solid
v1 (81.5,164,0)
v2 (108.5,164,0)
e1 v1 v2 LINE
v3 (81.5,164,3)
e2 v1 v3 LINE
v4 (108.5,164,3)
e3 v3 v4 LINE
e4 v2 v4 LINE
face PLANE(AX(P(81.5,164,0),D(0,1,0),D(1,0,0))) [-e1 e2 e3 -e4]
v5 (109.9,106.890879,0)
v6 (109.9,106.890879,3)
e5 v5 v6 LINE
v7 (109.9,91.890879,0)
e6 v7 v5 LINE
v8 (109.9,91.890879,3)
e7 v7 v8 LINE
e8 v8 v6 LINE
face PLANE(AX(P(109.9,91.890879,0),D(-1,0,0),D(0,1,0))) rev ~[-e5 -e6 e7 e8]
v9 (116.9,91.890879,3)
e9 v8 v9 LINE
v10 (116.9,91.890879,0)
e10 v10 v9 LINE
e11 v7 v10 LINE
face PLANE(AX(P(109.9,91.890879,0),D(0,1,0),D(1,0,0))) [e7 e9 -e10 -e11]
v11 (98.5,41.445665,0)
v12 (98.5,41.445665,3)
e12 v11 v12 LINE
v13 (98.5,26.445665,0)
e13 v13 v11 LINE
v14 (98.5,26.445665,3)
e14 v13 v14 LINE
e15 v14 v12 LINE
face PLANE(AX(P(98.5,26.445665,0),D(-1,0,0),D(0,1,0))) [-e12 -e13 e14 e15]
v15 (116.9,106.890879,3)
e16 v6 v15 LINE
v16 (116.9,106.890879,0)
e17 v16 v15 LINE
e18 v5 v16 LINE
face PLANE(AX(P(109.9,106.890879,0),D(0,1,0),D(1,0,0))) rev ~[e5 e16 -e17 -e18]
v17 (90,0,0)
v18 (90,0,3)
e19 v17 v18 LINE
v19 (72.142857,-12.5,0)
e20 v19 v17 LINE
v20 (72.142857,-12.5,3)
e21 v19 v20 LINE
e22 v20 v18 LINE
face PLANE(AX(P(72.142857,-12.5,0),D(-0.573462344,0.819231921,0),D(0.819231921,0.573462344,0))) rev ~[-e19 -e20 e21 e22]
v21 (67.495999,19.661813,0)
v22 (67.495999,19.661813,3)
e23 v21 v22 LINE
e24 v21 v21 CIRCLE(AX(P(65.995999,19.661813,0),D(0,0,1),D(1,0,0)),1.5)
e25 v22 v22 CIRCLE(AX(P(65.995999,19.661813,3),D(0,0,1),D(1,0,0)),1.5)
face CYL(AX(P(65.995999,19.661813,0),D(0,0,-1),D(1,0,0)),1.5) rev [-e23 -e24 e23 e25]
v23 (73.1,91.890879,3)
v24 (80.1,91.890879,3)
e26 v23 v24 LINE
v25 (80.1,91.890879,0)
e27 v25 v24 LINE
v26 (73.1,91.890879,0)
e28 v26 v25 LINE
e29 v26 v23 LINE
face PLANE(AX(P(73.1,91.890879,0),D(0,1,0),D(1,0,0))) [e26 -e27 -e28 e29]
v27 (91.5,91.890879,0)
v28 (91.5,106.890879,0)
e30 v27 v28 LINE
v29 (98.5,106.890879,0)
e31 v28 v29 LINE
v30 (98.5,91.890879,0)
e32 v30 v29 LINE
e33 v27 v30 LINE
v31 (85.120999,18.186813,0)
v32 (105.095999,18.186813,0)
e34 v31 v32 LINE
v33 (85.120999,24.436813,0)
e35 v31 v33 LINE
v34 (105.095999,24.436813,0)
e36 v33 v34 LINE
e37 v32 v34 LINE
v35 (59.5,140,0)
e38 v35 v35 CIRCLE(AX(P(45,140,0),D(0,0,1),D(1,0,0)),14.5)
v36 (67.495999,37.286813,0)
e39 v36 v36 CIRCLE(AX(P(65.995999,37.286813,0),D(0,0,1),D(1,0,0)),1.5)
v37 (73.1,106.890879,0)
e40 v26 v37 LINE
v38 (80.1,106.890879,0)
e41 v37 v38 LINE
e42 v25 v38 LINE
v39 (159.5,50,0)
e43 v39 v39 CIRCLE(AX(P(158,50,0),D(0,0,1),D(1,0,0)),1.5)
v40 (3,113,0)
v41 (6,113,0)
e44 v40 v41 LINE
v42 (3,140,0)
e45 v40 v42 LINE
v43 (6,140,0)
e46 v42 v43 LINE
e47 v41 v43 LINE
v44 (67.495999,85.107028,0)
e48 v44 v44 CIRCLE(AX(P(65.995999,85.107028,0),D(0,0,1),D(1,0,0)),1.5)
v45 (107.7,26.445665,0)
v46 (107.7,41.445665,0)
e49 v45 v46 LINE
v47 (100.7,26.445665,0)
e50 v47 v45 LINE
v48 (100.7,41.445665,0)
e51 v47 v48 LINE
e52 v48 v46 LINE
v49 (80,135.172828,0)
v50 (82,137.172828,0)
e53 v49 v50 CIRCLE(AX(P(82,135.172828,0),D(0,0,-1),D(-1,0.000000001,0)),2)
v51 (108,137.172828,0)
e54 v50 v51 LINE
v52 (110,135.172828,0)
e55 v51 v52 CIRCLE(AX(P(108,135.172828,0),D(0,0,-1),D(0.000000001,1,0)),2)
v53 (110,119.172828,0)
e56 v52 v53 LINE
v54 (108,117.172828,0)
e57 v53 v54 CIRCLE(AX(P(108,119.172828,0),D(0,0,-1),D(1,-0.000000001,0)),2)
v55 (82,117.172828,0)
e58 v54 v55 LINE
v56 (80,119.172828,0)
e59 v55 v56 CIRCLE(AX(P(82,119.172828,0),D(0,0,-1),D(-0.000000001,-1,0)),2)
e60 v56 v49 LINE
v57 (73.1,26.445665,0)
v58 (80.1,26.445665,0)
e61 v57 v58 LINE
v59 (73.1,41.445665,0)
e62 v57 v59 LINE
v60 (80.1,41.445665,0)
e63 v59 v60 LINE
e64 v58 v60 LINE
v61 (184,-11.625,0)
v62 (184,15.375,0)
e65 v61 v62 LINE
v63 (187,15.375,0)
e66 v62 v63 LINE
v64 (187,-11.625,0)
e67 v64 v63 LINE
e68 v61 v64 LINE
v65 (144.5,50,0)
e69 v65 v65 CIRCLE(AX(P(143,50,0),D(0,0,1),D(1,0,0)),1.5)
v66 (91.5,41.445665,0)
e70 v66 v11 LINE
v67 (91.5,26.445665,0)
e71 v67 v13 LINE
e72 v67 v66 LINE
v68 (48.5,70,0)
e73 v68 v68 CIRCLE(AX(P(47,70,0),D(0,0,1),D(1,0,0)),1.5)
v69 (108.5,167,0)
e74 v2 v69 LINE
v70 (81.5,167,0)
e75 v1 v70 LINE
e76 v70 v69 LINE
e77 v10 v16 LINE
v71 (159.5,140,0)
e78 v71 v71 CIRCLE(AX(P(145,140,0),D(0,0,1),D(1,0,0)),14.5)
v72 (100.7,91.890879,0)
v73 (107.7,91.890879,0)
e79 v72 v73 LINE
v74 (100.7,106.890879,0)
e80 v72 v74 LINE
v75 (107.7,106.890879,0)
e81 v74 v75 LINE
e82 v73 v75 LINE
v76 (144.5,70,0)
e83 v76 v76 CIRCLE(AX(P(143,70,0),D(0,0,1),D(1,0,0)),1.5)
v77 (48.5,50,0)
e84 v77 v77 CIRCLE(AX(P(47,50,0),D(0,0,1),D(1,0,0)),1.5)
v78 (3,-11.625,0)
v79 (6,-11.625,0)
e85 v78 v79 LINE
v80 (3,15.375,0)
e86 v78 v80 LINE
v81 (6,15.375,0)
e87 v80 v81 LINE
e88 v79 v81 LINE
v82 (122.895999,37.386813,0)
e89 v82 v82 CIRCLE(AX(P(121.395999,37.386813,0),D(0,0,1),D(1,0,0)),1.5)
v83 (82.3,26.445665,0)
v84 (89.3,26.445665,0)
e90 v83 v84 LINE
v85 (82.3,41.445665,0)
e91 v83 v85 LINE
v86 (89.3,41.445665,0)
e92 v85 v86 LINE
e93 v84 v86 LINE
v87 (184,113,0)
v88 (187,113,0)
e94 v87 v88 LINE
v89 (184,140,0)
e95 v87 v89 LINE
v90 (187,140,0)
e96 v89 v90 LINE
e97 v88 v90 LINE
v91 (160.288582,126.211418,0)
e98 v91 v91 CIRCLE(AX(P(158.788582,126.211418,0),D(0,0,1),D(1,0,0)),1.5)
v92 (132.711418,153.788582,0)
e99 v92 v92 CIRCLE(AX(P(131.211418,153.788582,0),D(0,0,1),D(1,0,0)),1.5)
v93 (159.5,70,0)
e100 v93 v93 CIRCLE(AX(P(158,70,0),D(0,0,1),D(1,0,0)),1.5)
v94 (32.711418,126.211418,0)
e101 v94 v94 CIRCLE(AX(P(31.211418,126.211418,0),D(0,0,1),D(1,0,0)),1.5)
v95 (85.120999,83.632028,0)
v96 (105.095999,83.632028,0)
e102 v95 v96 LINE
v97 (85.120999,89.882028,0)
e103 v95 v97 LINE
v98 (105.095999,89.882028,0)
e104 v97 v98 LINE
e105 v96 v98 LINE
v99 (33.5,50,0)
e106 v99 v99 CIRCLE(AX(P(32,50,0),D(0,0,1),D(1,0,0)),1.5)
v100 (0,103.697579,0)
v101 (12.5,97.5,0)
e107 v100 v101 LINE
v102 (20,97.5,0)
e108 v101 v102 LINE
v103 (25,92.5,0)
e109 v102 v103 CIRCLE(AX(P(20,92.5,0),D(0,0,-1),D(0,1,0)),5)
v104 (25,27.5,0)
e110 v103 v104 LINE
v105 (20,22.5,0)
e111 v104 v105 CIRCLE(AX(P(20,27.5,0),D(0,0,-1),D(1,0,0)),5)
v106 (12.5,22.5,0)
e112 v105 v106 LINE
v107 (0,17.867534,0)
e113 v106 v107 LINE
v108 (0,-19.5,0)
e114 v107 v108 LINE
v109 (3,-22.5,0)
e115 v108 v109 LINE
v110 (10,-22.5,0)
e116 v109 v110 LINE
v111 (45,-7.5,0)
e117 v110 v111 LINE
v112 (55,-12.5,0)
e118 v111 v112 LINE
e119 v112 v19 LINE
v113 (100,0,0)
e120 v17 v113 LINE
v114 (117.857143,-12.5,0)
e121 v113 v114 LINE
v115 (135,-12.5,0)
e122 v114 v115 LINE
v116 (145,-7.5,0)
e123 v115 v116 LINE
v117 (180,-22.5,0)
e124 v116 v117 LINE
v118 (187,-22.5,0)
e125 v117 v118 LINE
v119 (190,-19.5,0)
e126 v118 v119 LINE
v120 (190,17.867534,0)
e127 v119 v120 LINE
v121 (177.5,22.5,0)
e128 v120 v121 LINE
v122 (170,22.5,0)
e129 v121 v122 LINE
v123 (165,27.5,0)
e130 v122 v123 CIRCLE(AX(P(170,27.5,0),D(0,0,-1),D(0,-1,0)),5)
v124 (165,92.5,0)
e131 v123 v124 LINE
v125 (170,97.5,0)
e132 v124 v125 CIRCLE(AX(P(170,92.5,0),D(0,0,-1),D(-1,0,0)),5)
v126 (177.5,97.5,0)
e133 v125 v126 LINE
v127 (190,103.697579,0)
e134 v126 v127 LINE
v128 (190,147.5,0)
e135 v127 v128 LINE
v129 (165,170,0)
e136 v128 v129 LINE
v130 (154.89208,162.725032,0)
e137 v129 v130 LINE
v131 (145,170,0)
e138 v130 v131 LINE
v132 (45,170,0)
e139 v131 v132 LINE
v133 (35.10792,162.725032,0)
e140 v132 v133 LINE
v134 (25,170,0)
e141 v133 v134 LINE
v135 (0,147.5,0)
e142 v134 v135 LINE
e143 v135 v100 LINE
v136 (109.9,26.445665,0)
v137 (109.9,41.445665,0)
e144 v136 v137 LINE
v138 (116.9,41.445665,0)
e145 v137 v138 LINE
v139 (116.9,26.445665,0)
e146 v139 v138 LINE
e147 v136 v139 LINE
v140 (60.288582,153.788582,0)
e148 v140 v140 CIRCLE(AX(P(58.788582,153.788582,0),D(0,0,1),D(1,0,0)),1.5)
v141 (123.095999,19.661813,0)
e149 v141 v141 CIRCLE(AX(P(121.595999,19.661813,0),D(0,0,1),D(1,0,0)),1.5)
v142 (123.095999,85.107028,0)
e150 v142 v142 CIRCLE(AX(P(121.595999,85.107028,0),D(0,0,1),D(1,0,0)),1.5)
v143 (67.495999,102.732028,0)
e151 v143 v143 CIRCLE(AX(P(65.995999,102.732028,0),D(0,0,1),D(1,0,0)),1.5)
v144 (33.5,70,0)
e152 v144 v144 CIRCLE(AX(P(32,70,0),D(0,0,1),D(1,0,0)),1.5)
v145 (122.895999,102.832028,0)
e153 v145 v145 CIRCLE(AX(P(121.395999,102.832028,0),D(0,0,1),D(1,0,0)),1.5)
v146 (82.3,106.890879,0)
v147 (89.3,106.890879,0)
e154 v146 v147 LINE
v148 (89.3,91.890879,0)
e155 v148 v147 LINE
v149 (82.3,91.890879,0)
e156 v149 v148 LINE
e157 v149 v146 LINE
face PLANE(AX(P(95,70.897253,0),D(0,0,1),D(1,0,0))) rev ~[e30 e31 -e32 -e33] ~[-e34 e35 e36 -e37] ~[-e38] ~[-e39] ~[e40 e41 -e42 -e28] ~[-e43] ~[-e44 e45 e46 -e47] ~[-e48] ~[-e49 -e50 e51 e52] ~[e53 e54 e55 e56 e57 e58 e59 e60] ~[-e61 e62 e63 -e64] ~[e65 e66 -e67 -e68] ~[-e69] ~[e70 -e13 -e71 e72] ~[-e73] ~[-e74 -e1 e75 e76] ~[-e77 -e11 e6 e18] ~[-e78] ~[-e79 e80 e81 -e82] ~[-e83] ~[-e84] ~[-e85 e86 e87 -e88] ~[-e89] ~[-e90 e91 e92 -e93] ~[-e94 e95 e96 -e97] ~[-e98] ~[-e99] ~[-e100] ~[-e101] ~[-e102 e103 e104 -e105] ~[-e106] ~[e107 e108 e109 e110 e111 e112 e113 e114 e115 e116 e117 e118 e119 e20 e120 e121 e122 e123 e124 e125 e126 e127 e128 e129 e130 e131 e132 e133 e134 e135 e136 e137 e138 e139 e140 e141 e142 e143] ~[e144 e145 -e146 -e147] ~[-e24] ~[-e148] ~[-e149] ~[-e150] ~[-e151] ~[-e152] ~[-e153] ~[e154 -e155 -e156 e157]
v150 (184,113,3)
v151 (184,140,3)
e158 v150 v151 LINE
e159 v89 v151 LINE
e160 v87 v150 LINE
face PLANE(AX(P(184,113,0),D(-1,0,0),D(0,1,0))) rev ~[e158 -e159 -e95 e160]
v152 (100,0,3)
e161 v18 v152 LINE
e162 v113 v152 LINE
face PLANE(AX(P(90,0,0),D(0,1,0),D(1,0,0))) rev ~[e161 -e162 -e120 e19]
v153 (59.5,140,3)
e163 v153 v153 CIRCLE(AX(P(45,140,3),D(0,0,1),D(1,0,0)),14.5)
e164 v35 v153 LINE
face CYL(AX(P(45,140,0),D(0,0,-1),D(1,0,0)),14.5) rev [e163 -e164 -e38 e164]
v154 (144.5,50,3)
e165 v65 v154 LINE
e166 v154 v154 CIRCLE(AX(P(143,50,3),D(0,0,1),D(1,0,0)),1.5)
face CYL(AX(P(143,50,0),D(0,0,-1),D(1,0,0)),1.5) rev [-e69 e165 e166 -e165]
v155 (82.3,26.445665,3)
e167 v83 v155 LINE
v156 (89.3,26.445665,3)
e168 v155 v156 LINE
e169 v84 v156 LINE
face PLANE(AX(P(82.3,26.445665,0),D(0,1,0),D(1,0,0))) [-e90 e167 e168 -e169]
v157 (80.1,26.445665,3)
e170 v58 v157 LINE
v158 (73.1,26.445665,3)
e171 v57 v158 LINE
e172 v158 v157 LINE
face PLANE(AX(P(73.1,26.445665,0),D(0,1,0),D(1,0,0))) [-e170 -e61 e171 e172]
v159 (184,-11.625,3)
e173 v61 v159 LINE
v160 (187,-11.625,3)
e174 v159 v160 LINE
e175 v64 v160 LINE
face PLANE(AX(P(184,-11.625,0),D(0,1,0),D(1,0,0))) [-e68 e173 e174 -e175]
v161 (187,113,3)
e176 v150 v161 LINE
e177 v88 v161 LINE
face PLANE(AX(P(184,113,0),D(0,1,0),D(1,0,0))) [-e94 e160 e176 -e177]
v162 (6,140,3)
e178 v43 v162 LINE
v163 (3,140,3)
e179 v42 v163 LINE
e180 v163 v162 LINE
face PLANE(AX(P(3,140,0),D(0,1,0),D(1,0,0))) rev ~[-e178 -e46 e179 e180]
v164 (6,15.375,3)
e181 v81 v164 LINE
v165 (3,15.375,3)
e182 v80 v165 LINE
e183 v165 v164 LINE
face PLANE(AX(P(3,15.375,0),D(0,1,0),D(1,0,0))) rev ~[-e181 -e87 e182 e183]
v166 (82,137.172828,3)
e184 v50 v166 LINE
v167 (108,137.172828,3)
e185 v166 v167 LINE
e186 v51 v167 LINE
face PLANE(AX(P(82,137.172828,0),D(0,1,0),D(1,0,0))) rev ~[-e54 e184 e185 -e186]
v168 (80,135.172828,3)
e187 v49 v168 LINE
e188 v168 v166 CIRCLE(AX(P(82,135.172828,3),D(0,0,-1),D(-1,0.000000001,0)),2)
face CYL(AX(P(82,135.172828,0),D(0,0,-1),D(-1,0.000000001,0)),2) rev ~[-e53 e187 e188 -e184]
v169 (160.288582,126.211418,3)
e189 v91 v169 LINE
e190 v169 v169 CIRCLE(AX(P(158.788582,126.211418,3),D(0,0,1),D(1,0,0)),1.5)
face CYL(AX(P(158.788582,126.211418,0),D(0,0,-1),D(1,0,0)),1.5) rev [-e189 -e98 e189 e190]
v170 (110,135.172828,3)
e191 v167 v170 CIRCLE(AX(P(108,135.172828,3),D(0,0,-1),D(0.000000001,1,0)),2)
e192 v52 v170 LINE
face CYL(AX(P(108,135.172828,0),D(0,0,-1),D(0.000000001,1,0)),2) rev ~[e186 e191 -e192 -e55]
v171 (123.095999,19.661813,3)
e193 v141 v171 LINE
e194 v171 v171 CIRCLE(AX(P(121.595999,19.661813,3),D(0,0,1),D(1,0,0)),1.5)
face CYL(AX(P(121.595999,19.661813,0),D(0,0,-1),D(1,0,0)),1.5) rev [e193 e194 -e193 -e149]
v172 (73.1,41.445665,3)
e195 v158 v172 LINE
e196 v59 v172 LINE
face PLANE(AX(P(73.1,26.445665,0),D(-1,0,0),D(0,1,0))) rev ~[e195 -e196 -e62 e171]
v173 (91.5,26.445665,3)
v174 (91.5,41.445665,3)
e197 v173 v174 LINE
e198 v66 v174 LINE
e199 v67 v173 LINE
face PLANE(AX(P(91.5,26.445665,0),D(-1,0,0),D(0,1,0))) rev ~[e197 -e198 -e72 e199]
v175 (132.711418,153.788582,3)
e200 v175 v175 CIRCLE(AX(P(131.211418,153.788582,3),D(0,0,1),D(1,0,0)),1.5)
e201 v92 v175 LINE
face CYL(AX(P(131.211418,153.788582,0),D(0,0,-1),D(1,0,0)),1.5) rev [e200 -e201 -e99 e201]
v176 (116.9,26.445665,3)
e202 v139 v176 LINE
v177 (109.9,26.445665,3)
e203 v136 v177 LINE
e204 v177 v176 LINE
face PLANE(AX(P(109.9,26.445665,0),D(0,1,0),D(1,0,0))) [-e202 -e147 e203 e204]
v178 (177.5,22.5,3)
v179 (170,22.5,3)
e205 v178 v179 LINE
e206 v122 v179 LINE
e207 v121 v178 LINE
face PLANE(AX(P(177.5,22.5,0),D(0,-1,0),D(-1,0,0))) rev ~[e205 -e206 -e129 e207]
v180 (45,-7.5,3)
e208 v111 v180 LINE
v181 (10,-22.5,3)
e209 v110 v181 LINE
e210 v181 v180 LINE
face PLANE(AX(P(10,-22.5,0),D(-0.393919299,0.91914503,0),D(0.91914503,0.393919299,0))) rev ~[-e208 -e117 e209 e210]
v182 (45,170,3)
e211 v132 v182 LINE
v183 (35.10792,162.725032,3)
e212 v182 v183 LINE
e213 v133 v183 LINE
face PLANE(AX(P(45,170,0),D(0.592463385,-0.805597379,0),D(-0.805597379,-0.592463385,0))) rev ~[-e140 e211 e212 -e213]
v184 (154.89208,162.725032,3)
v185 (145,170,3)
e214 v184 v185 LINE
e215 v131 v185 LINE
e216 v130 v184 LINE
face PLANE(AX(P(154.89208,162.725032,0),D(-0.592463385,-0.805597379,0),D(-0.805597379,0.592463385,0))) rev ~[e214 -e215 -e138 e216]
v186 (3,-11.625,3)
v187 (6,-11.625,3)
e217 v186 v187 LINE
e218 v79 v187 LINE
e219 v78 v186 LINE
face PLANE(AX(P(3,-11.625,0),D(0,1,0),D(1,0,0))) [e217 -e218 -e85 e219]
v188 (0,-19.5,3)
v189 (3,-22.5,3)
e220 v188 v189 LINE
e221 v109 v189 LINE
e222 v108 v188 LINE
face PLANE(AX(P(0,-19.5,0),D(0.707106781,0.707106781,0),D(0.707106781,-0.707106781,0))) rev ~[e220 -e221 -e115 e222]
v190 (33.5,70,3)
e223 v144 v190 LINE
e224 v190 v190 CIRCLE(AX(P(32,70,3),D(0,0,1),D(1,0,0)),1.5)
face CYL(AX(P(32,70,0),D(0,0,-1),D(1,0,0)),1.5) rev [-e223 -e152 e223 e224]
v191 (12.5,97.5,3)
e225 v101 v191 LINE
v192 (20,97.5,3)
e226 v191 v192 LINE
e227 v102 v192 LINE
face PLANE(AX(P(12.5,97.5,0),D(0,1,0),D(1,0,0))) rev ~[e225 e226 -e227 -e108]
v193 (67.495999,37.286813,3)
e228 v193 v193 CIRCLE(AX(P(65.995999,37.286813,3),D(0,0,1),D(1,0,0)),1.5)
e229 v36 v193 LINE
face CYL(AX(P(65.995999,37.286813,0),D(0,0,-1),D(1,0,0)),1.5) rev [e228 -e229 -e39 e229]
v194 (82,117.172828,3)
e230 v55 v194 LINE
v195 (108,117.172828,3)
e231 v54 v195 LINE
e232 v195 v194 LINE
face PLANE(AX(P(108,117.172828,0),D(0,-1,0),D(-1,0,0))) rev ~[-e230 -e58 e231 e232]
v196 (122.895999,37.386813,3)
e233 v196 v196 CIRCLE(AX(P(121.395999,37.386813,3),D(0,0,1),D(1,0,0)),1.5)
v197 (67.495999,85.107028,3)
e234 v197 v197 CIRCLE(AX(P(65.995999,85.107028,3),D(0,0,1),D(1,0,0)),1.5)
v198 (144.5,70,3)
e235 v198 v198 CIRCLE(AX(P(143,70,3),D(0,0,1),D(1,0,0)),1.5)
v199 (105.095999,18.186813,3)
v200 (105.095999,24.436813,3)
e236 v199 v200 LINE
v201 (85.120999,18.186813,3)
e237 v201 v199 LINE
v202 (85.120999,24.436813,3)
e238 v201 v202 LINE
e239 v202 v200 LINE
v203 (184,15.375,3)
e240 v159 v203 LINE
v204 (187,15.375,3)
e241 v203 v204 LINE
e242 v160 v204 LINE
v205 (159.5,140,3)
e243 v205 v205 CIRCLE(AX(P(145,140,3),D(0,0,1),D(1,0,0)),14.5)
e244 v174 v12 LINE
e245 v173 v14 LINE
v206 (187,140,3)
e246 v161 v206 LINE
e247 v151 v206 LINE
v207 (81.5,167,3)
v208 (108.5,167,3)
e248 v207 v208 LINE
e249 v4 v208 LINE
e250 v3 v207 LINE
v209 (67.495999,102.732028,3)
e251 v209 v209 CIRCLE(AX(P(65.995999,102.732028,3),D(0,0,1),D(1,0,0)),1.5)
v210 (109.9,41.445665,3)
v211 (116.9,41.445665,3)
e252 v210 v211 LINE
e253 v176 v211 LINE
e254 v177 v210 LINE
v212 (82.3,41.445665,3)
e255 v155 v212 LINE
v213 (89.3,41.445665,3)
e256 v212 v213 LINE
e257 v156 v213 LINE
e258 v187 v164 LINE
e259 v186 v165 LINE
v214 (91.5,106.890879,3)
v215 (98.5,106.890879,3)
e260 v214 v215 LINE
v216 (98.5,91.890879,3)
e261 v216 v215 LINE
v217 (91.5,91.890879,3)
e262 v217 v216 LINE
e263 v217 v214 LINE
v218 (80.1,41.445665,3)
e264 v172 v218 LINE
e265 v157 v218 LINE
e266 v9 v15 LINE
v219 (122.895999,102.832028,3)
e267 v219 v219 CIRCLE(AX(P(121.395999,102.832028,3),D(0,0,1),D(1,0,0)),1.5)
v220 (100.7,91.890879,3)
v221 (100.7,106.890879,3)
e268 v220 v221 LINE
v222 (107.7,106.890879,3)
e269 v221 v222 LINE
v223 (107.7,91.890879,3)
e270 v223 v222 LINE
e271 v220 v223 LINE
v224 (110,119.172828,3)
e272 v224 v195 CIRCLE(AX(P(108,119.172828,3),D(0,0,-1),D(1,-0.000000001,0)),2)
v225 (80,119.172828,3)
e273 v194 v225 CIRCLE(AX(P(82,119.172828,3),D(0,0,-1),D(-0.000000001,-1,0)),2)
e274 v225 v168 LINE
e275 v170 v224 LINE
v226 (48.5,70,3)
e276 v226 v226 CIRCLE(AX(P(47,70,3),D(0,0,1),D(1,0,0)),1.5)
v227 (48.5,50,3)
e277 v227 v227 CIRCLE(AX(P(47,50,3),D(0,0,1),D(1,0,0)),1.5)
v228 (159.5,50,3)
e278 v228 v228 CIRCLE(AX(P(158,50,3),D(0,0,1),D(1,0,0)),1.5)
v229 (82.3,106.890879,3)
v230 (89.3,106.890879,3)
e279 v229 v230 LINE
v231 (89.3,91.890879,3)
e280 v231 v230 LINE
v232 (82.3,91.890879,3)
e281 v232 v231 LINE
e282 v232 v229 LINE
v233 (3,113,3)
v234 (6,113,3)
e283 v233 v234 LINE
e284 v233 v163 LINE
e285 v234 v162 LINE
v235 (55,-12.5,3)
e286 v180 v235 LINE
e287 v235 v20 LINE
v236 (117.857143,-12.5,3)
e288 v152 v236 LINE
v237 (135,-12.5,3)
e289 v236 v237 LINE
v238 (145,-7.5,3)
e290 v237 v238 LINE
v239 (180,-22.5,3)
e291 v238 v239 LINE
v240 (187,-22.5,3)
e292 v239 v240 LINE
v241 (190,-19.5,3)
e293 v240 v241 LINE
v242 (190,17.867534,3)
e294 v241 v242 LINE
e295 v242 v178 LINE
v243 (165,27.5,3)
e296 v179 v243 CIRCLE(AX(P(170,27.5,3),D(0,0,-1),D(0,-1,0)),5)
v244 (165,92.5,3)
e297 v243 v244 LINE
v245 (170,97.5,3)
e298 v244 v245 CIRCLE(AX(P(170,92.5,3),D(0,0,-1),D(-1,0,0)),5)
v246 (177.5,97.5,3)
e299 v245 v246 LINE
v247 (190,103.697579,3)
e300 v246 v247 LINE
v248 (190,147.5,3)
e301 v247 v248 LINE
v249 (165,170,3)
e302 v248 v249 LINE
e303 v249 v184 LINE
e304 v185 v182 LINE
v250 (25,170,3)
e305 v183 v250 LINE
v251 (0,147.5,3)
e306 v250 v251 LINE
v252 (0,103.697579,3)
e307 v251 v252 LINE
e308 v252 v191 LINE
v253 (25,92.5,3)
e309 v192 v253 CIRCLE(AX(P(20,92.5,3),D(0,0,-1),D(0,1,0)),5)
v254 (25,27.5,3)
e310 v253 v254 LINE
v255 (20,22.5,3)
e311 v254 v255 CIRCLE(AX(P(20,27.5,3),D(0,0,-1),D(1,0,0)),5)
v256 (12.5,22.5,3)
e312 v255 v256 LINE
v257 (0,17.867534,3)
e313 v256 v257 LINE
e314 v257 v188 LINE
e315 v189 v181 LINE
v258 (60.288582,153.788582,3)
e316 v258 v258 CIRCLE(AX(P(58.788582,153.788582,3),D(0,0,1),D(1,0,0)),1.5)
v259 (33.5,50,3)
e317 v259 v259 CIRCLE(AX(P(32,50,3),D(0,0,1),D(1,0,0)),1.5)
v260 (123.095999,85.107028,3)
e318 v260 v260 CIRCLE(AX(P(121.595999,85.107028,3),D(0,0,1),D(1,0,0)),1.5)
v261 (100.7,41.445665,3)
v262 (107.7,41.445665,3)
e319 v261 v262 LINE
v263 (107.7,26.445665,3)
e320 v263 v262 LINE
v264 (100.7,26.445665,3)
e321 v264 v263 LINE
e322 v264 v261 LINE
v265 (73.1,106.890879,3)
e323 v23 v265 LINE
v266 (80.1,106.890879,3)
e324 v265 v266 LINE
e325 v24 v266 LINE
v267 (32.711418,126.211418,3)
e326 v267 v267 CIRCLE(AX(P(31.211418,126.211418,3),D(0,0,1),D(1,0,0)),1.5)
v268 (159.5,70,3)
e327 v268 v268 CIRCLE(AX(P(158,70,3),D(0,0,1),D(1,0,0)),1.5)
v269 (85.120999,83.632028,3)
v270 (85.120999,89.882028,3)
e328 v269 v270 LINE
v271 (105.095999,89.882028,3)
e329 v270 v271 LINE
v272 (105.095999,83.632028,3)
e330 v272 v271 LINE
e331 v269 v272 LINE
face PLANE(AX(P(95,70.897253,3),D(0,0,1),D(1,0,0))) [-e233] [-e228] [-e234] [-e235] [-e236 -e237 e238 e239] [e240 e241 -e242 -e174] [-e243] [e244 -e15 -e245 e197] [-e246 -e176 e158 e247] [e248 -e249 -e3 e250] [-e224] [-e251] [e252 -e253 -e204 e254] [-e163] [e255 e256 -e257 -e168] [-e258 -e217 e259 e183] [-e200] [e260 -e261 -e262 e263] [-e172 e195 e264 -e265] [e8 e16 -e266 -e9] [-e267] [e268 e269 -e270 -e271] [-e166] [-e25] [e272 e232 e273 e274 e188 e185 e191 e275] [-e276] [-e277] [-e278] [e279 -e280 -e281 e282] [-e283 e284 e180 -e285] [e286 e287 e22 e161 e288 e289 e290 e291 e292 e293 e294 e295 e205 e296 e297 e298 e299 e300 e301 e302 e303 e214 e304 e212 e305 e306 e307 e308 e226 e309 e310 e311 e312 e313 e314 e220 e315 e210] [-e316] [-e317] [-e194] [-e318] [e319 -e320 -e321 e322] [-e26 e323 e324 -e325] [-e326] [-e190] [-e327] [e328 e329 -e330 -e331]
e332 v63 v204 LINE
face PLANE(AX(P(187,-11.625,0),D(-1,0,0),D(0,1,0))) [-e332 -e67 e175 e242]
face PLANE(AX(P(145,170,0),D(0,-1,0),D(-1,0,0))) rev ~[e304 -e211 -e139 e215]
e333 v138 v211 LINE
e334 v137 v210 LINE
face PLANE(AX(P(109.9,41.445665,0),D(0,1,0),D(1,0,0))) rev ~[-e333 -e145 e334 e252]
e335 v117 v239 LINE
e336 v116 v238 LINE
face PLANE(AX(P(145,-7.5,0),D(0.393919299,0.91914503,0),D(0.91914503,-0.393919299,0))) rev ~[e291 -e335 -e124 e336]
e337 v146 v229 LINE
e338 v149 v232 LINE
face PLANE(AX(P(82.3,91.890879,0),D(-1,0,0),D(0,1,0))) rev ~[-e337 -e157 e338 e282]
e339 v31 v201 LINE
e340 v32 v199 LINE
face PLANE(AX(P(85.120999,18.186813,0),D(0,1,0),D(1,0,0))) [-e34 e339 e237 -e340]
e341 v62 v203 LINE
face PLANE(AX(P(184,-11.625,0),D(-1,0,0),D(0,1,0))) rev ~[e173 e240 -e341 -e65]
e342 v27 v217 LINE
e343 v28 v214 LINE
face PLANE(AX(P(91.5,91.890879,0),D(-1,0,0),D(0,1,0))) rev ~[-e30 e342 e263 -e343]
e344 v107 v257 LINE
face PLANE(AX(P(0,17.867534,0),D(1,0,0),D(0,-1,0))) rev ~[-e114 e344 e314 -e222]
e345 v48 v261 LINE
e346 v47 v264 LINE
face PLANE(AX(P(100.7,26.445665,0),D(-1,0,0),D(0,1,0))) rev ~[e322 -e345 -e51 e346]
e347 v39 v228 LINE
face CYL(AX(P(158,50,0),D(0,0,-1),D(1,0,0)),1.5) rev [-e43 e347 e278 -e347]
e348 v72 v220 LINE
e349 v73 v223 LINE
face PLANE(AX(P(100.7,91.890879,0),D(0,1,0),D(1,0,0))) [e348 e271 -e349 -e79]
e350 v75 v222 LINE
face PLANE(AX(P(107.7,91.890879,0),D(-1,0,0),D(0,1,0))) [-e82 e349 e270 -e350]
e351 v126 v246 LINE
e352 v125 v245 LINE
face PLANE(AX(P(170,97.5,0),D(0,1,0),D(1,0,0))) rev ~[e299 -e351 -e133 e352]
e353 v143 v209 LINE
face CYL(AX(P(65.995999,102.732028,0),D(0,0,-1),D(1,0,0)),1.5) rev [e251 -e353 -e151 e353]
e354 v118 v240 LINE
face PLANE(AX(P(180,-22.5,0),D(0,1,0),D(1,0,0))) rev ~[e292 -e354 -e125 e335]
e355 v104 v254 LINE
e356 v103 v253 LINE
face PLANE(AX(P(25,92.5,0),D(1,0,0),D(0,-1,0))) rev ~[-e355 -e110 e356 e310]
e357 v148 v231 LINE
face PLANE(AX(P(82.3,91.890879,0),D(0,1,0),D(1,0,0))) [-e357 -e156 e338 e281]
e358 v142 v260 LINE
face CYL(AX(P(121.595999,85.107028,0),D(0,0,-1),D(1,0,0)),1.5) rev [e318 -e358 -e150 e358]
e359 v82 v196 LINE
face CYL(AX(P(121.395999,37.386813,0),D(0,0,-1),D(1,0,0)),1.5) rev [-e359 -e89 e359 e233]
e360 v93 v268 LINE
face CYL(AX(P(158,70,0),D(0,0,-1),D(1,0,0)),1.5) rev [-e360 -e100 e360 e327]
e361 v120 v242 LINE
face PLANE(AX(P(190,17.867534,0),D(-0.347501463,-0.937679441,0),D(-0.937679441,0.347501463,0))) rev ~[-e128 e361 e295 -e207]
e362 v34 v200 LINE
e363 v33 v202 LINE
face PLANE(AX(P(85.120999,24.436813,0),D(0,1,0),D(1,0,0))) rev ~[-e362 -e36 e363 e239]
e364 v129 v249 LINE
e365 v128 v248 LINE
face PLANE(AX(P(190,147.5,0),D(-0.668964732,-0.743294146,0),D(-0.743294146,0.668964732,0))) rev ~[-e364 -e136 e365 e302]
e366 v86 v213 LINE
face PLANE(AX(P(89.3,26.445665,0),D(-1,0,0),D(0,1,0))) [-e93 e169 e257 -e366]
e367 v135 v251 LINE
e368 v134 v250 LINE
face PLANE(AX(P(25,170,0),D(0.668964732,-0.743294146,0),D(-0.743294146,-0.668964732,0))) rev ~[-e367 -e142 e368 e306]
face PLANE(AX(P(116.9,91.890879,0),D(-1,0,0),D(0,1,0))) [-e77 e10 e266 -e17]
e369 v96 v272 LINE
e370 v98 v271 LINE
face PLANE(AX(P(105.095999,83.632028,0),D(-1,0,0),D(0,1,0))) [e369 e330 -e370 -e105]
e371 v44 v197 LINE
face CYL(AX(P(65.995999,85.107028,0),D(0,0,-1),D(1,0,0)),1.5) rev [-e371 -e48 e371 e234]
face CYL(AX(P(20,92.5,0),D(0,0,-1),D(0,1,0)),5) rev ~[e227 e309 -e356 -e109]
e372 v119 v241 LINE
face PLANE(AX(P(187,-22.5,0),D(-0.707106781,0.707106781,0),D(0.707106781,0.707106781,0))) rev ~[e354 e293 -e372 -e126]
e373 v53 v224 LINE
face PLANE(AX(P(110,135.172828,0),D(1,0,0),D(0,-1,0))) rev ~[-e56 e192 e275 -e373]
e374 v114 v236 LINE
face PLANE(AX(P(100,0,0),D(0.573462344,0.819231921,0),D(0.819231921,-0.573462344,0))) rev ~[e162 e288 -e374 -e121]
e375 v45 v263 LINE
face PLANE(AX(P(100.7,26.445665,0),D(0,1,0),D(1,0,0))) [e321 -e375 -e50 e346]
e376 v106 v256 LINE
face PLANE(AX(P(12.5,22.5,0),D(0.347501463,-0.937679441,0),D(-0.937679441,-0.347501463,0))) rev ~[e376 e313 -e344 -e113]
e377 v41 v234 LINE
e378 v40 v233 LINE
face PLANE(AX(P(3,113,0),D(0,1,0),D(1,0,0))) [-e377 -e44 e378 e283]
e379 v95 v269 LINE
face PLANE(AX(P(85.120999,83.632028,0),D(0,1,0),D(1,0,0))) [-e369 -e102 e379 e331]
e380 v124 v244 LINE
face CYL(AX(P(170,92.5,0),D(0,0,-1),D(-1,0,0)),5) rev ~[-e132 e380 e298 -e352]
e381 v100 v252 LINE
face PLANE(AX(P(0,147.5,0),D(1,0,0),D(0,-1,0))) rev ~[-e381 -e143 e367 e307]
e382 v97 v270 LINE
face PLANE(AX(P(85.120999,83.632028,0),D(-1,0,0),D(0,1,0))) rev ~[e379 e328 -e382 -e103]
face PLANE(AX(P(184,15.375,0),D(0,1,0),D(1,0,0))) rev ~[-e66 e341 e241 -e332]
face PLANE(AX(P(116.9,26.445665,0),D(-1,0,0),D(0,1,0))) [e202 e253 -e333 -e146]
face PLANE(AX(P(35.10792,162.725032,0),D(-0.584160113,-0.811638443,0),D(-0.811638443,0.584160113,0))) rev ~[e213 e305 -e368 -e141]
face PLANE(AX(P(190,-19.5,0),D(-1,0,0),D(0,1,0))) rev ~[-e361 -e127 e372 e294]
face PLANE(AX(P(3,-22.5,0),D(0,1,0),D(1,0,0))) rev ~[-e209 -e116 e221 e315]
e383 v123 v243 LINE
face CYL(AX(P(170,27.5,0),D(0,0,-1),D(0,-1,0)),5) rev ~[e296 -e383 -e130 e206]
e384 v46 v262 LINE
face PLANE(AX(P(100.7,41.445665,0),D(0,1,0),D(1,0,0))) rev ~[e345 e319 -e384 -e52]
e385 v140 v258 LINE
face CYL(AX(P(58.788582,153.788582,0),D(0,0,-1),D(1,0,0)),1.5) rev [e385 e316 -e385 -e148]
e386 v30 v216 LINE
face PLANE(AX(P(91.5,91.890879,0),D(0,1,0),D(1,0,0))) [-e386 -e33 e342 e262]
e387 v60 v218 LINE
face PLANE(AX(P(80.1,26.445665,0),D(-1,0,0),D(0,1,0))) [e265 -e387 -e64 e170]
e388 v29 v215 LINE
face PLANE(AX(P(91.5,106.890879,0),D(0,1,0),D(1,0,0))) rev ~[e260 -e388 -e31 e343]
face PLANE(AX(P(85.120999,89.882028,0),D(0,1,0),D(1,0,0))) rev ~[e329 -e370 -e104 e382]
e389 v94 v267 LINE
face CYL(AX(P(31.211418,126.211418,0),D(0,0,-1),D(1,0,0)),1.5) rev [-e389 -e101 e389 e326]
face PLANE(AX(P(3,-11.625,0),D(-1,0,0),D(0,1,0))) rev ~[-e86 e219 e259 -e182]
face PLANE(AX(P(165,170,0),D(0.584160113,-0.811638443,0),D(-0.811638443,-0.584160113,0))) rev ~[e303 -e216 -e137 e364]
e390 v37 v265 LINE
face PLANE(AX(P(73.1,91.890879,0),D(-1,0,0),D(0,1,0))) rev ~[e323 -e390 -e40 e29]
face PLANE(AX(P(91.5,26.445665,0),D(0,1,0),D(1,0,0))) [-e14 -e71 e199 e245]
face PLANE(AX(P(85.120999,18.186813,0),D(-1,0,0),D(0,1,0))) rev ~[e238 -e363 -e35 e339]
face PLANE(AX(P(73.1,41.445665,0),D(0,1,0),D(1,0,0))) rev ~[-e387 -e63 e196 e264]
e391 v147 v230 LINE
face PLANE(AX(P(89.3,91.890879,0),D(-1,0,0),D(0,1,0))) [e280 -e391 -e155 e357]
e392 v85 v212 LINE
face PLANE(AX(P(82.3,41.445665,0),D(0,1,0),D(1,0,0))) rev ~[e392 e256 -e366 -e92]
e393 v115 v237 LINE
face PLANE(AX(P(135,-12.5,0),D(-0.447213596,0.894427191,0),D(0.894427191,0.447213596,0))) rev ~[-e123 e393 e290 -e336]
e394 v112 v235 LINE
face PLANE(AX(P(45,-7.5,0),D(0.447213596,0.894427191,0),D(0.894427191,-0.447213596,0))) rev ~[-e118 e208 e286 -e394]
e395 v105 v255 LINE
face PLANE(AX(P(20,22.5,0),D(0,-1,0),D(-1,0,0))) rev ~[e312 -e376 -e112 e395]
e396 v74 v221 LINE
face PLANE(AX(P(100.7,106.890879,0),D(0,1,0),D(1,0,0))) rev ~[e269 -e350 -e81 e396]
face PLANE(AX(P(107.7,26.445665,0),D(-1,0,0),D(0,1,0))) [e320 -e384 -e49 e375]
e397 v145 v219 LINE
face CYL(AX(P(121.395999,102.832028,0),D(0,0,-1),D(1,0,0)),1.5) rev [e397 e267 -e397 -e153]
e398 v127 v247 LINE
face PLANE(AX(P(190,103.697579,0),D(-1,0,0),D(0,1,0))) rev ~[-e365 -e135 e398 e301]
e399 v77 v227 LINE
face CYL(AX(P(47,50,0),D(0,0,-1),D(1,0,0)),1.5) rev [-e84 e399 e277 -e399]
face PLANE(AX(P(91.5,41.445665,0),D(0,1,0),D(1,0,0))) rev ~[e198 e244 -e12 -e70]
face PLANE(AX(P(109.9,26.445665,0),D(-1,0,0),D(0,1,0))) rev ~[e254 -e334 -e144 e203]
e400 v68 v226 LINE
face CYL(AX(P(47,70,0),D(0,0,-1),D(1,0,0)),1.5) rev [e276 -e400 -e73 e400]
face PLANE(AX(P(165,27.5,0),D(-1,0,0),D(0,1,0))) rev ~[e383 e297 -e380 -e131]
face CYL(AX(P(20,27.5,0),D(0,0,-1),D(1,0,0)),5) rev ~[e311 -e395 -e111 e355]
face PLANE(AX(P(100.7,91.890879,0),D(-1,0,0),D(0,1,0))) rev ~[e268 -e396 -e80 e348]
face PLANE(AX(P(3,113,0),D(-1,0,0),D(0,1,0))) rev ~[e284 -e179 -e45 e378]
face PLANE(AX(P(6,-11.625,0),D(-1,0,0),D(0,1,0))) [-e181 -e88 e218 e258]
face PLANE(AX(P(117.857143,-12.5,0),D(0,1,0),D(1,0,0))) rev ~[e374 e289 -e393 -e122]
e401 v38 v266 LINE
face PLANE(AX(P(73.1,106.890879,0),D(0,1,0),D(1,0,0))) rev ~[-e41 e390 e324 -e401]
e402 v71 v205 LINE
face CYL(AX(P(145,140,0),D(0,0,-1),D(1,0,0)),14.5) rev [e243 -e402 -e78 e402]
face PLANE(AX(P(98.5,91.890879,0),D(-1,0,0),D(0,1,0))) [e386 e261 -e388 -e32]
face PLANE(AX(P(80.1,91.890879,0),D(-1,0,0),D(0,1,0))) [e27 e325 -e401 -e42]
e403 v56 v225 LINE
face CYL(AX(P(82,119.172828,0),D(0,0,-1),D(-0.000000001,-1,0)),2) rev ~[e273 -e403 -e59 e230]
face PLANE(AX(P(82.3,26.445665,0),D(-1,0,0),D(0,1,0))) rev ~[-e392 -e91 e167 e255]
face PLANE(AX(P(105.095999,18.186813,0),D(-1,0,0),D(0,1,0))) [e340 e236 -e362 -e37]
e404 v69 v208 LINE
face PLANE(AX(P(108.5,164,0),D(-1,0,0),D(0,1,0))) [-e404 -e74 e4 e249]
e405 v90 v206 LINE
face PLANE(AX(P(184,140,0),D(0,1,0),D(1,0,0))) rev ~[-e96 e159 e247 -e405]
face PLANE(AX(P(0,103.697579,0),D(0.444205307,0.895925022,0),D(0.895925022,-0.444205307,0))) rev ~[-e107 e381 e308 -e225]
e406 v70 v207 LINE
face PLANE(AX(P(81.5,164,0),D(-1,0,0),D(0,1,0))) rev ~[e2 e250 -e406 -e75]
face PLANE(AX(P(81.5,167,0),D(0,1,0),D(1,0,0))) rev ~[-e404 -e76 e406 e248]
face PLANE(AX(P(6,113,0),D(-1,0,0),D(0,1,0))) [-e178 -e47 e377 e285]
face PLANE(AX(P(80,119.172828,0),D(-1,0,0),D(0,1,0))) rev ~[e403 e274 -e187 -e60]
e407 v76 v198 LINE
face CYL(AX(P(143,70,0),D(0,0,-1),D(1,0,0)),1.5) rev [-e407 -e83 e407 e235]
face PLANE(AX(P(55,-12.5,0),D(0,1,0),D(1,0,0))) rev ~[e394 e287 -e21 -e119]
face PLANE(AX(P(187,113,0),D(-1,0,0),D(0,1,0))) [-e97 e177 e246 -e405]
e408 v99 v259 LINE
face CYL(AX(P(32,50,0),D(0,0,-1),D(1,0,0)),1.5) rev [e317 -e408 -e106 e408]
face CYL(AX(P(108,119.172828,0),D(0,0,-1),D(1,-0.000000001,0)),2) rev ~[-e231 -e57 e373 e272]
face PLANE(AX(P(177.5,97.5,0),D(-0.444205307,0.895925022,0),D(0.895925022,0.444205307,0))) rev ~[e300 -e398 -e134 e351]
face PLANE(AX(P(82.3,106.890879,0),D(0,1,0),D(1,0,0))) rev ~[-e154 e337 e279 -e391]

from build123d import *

# Parameters (mm, degrees)
MODEL_R             = 1.5
MODEL_R_2           = 14.5
MODEL_W             = 3
MODEL_H             = 27
MODEL_W_2           = 27
MODEL_H_2           = 3
MODEL_W_3           = 7
MODEL_H_3           = 15
MODEL_W_4           = 19.975
MODEL_H_4           = 6.25
BOSS_EXTRUDE1_DEPTH = 3


with BuildPart() as part:
    # Model → Boss-Extrude1 (new body)
    with BuildSketch(Plane.XY):
        with BuildLine():
            Line((190, 103.697579254), (190, 147.5))
            Line((190, 147.5), (165, 170))
            Line((165, 170), (154.89207995, 162.725031973))
            Line((154.89207995, 162.725031973), (145, 170))
            Line((145, 170), (45, 170))
            Line((45, 170), (35.10792005, 162.725031973))
            Line((35.10792005, 162.725031973), (25, 170))
            Line((25, 170), (0, 147.5))
            Line((0, 147.5), (0, 103.697579254))
            Line((0, 103.697579254), (12.5, 97.5))
            Line((12.5, 97.5), (20, 97.5))
            ThreePointArc((20, 97.5), (23.535533906, 96.035533906), (25, 92.5))
            Line((25, 92.5), (25, 27.5))
            ThreePointArc((25, 27.5), (23.535533906, 23.964466094), (20, 22.5))
            Line((20, 22.5), (12.5, 22.5))
            Line((12.5, 22.5), (0, 17.867533831))
            Line((0, 17.867533831), (0, 0))
            Line((0, 0), (0, -19.5))
            Line((0, -19.5), (3, -22.5))
            Line((3, -22.5), (10, -22.5))
            Line((10, -22.5), (45, -7.5))
            Line((45, -7.5), (55, -12.5))
            Line((55, -12.5), (72.142857143, -12.5))
            Line((72.142857143, -12.5), (90, 0))
            Line((90, 0), (100, 0))
            Line((100, 0), (117.857142857, -12.5))
            Line((117.857142857, -12.5), (135, -12.5))
            Line((135, -12.5), (145, -7.5))
            Line((145, -7.5), (180, -22.5))
            Line((180, -22.5), (187, -22.5))
            Line((187, -22.5), (190, -19.5))
            Line((190, -19.5), (190, 0))
            Line((190, 0), (190, 17.867533831))
            Line((190, 17.867533831), (177.5, 22.5))
            Line((177.5, 22.5), (170, 22.5))
            ThreePointArc((170, 22.5), (166.464466094, 23.964466094), (165, 27.5))
            Line((165, 27.5), (165, 92.5))
            ThreePointArc((165, 92.5), (166.464466094, 96.035533906), (170, 97.5))
            Line((170, 97.5), (177.5, 97.5))
            Line((177.5, 97.5), (190, 103.697579254))
        make_face()
        with Locations((32, 50)):
            Circle(MODEL_R, mode=Mode.SUBTRACT)
        with Locations((47, 50)):
            Circle(MODEL_R, mode=Mode.SUBTRACT)
        with Locations((32, 70)):
            Circle(MODEL_R, mode=Mode.SUBTRACT)
        with Locations((47, 70)):
            Circle(MODEL_R, mode=Mode.SUBTRACT)
        with Locations((158, 70)):
            Circle(MODEL_R, mode=Mode.SUBTRACT)
        with Locations((143, 70)):
            Circle(MODEL_R, mode=Mode.SUBTRACT)
        with Locations((158, 50)):
            Circle(MODEL_R, mode=Mode.SUBTRACT)
        with Locations((143, 50)):
            Circle(MODEL_R, mode=Mode.SUBTRACT)
        with Locations((45, 140)):
            Circle(MODEL_R_2, mode=Mode.SUBTRACT)
        with Locations((31.211417767, 126.211417767)):
            Circle(MODEL_R, mode=Mode.SUBTRACT)
        with Locations((58.788582233, 153.788582233)):
            Circle(MODEL_R, mode=Mode.SUBTRACT)
        with Locations((145, 140)):
            Circle(MODEL_R_2, mode=Mode.SUBTRACT)
        with Locations((158.788582233, 126.211417767)):
            Circle(MODEL_R, mode=Mode.SUBTRACT)
        with Locations((131.211417767, 153.788582233)):
            Circle(MODEL_R, mode=Mode.SUBTRACT)
        with Locations((65.995999264, 37.286813453)):
            Circle(MODEL_R, mode=Mode.SUBTRACT)
        with Locations((65.995999264, 19.661813453)):
            Circle(MODEL_R, mode=Mode.SUBTRACT)
        with Locations((121.395999264, 37.386813453)):
            Circle(MODEL_R, mode=Mode.SUBTRACT)
        with Locations((121.595999264, 19.661813453)):
            Circle(MODEL_R, mode=Mode.SUBTRACT)
        with Locations((65.995999264, 85.107027522)):
            Circle(MODEL_R, mode=Mode.SUBTRACT)
        with Locations((65.995999264, 102.732027522)):
            Circle(MODEL_R, mode=Mode.SUBTRACT)
        with Locations((121.395999264, 102.832027522)):
            Circle(MODEL_R, mode=Mode.SUBTRACT)
        with Locations((121.595999264, 85.107027522)):
            Circle(MODEL_R, mode=Mode.SUBTRACT)
        with Locations((4.5, 126.5)):
            Rectangle(MODEL_W, MODEL_H, mode=Mode.SUBTRACT)
        with Locations((185.5, 126.5)):
            Rectangle(MODEL_W, MODEL_H, mode=Mode.SUBTRACT)
        with Locations((95, 165.5)):
            Rectangle(MODEL_W_2, MODEL_H_2, mode=Mode.SUBTRACT)
        with Locations((76.6, 99.390878679)):
            Rectangle(MODEL_W_3, MODEL_H_3, mode=Mode.SUBTRACT)
        with Locations((85.8, 99.390878679)):
            Rectangle(MODEL_W_3, MODEL_H_3, mode=Mode.SUBTRACT)
        with Locations((95, 99.390878679)):
            Rectangle(MODEL_W_3, MODEL_H_3, mode=Mode.SUBTRACT)
        with Locations((104.2, 99.390878679)):
            Rectangle(MODEL_W_3, MODEL_H_3, mode=Mode.SUBTRACT)
        with Locations((113.4, 99.390878679)):
            Rectangle(MODEL_W_3, MODEL_H_3, mode=Mode.SUBTRACT)
        with Locations((95.108499264, 86.757027522)):
            Rectangle(MODEL_W_4, MODEL_H_4, mode=Mode.SUBTRACT)
        with Locations((76.6, 33.94566461)):
            Rectangle(MODEL_W_3, MODEL_H_3, mode=Mode.SUBTRACT)
        with Locations((85.8, 33.94566461)):
            Rectangle(MODEL_W_3, MODEL_H_3, mode=Mode.SUBTRACT)
        with Locations((95, 33.94566461)):
            Rectangle(MODEL_W_3, MODEL_H_3, mode=Mode.SUBTRACT)
        with Locations((104.2, 33.94566461)):
            Rectangle(MODEL_W_3, MODEL_H_3, mode=Mode.SUBTRACT)
        with Locations((113.4, 33.94566461)):
            Rectangle(MODEL_W_3, MODEL_H_3, mode=Mode.SUBTRACT)
        with Locations((95.108499264, 21.311813453)):
            Rectangle(MODEL_W_4, MODEL_H_4, mode=Mode.SUBTRACT)
        with BuildLine():
            Line((80, 119.172827764), (80, 135.172827764))
            ThreePointArc((80, 135.172827764), (80.585786438, 136.587041326), (82, 137.172827764))
            Line((82, 137.172827764), (108, 137.172827764))
            ThreePointArc((108, 137.172827764), (109.414213562, 136.587041326), (110, 135.172827764))
            Line((110, 135.172827764), (110, 119.172827764))
            ThreePointArc((110, 119.172827764), (109.414213562, 117.758614202), (108, 117.172827764))
            Line((108, 117.172827764), (82, 117.172827764))
            ThreePointArc((82, 117.172827764), (80.585786438, 117.758614202), (80, 119.172827764))
        make_face(mode=Mode.SUBTRACT)
        with Locations((4.5, 1.875)):
            Rectangle(MODEL_W, MODEL_H, mode=Mode.SUBTRACT)
        with Locations((185.5, 1.875)):
            Rectangle(MODEL_W, MODEL_H, mode=Mode.SUBTRACT)
    extrude(amount=BOSS_EXTRUDE1_DEPTH)


solid = part.part
